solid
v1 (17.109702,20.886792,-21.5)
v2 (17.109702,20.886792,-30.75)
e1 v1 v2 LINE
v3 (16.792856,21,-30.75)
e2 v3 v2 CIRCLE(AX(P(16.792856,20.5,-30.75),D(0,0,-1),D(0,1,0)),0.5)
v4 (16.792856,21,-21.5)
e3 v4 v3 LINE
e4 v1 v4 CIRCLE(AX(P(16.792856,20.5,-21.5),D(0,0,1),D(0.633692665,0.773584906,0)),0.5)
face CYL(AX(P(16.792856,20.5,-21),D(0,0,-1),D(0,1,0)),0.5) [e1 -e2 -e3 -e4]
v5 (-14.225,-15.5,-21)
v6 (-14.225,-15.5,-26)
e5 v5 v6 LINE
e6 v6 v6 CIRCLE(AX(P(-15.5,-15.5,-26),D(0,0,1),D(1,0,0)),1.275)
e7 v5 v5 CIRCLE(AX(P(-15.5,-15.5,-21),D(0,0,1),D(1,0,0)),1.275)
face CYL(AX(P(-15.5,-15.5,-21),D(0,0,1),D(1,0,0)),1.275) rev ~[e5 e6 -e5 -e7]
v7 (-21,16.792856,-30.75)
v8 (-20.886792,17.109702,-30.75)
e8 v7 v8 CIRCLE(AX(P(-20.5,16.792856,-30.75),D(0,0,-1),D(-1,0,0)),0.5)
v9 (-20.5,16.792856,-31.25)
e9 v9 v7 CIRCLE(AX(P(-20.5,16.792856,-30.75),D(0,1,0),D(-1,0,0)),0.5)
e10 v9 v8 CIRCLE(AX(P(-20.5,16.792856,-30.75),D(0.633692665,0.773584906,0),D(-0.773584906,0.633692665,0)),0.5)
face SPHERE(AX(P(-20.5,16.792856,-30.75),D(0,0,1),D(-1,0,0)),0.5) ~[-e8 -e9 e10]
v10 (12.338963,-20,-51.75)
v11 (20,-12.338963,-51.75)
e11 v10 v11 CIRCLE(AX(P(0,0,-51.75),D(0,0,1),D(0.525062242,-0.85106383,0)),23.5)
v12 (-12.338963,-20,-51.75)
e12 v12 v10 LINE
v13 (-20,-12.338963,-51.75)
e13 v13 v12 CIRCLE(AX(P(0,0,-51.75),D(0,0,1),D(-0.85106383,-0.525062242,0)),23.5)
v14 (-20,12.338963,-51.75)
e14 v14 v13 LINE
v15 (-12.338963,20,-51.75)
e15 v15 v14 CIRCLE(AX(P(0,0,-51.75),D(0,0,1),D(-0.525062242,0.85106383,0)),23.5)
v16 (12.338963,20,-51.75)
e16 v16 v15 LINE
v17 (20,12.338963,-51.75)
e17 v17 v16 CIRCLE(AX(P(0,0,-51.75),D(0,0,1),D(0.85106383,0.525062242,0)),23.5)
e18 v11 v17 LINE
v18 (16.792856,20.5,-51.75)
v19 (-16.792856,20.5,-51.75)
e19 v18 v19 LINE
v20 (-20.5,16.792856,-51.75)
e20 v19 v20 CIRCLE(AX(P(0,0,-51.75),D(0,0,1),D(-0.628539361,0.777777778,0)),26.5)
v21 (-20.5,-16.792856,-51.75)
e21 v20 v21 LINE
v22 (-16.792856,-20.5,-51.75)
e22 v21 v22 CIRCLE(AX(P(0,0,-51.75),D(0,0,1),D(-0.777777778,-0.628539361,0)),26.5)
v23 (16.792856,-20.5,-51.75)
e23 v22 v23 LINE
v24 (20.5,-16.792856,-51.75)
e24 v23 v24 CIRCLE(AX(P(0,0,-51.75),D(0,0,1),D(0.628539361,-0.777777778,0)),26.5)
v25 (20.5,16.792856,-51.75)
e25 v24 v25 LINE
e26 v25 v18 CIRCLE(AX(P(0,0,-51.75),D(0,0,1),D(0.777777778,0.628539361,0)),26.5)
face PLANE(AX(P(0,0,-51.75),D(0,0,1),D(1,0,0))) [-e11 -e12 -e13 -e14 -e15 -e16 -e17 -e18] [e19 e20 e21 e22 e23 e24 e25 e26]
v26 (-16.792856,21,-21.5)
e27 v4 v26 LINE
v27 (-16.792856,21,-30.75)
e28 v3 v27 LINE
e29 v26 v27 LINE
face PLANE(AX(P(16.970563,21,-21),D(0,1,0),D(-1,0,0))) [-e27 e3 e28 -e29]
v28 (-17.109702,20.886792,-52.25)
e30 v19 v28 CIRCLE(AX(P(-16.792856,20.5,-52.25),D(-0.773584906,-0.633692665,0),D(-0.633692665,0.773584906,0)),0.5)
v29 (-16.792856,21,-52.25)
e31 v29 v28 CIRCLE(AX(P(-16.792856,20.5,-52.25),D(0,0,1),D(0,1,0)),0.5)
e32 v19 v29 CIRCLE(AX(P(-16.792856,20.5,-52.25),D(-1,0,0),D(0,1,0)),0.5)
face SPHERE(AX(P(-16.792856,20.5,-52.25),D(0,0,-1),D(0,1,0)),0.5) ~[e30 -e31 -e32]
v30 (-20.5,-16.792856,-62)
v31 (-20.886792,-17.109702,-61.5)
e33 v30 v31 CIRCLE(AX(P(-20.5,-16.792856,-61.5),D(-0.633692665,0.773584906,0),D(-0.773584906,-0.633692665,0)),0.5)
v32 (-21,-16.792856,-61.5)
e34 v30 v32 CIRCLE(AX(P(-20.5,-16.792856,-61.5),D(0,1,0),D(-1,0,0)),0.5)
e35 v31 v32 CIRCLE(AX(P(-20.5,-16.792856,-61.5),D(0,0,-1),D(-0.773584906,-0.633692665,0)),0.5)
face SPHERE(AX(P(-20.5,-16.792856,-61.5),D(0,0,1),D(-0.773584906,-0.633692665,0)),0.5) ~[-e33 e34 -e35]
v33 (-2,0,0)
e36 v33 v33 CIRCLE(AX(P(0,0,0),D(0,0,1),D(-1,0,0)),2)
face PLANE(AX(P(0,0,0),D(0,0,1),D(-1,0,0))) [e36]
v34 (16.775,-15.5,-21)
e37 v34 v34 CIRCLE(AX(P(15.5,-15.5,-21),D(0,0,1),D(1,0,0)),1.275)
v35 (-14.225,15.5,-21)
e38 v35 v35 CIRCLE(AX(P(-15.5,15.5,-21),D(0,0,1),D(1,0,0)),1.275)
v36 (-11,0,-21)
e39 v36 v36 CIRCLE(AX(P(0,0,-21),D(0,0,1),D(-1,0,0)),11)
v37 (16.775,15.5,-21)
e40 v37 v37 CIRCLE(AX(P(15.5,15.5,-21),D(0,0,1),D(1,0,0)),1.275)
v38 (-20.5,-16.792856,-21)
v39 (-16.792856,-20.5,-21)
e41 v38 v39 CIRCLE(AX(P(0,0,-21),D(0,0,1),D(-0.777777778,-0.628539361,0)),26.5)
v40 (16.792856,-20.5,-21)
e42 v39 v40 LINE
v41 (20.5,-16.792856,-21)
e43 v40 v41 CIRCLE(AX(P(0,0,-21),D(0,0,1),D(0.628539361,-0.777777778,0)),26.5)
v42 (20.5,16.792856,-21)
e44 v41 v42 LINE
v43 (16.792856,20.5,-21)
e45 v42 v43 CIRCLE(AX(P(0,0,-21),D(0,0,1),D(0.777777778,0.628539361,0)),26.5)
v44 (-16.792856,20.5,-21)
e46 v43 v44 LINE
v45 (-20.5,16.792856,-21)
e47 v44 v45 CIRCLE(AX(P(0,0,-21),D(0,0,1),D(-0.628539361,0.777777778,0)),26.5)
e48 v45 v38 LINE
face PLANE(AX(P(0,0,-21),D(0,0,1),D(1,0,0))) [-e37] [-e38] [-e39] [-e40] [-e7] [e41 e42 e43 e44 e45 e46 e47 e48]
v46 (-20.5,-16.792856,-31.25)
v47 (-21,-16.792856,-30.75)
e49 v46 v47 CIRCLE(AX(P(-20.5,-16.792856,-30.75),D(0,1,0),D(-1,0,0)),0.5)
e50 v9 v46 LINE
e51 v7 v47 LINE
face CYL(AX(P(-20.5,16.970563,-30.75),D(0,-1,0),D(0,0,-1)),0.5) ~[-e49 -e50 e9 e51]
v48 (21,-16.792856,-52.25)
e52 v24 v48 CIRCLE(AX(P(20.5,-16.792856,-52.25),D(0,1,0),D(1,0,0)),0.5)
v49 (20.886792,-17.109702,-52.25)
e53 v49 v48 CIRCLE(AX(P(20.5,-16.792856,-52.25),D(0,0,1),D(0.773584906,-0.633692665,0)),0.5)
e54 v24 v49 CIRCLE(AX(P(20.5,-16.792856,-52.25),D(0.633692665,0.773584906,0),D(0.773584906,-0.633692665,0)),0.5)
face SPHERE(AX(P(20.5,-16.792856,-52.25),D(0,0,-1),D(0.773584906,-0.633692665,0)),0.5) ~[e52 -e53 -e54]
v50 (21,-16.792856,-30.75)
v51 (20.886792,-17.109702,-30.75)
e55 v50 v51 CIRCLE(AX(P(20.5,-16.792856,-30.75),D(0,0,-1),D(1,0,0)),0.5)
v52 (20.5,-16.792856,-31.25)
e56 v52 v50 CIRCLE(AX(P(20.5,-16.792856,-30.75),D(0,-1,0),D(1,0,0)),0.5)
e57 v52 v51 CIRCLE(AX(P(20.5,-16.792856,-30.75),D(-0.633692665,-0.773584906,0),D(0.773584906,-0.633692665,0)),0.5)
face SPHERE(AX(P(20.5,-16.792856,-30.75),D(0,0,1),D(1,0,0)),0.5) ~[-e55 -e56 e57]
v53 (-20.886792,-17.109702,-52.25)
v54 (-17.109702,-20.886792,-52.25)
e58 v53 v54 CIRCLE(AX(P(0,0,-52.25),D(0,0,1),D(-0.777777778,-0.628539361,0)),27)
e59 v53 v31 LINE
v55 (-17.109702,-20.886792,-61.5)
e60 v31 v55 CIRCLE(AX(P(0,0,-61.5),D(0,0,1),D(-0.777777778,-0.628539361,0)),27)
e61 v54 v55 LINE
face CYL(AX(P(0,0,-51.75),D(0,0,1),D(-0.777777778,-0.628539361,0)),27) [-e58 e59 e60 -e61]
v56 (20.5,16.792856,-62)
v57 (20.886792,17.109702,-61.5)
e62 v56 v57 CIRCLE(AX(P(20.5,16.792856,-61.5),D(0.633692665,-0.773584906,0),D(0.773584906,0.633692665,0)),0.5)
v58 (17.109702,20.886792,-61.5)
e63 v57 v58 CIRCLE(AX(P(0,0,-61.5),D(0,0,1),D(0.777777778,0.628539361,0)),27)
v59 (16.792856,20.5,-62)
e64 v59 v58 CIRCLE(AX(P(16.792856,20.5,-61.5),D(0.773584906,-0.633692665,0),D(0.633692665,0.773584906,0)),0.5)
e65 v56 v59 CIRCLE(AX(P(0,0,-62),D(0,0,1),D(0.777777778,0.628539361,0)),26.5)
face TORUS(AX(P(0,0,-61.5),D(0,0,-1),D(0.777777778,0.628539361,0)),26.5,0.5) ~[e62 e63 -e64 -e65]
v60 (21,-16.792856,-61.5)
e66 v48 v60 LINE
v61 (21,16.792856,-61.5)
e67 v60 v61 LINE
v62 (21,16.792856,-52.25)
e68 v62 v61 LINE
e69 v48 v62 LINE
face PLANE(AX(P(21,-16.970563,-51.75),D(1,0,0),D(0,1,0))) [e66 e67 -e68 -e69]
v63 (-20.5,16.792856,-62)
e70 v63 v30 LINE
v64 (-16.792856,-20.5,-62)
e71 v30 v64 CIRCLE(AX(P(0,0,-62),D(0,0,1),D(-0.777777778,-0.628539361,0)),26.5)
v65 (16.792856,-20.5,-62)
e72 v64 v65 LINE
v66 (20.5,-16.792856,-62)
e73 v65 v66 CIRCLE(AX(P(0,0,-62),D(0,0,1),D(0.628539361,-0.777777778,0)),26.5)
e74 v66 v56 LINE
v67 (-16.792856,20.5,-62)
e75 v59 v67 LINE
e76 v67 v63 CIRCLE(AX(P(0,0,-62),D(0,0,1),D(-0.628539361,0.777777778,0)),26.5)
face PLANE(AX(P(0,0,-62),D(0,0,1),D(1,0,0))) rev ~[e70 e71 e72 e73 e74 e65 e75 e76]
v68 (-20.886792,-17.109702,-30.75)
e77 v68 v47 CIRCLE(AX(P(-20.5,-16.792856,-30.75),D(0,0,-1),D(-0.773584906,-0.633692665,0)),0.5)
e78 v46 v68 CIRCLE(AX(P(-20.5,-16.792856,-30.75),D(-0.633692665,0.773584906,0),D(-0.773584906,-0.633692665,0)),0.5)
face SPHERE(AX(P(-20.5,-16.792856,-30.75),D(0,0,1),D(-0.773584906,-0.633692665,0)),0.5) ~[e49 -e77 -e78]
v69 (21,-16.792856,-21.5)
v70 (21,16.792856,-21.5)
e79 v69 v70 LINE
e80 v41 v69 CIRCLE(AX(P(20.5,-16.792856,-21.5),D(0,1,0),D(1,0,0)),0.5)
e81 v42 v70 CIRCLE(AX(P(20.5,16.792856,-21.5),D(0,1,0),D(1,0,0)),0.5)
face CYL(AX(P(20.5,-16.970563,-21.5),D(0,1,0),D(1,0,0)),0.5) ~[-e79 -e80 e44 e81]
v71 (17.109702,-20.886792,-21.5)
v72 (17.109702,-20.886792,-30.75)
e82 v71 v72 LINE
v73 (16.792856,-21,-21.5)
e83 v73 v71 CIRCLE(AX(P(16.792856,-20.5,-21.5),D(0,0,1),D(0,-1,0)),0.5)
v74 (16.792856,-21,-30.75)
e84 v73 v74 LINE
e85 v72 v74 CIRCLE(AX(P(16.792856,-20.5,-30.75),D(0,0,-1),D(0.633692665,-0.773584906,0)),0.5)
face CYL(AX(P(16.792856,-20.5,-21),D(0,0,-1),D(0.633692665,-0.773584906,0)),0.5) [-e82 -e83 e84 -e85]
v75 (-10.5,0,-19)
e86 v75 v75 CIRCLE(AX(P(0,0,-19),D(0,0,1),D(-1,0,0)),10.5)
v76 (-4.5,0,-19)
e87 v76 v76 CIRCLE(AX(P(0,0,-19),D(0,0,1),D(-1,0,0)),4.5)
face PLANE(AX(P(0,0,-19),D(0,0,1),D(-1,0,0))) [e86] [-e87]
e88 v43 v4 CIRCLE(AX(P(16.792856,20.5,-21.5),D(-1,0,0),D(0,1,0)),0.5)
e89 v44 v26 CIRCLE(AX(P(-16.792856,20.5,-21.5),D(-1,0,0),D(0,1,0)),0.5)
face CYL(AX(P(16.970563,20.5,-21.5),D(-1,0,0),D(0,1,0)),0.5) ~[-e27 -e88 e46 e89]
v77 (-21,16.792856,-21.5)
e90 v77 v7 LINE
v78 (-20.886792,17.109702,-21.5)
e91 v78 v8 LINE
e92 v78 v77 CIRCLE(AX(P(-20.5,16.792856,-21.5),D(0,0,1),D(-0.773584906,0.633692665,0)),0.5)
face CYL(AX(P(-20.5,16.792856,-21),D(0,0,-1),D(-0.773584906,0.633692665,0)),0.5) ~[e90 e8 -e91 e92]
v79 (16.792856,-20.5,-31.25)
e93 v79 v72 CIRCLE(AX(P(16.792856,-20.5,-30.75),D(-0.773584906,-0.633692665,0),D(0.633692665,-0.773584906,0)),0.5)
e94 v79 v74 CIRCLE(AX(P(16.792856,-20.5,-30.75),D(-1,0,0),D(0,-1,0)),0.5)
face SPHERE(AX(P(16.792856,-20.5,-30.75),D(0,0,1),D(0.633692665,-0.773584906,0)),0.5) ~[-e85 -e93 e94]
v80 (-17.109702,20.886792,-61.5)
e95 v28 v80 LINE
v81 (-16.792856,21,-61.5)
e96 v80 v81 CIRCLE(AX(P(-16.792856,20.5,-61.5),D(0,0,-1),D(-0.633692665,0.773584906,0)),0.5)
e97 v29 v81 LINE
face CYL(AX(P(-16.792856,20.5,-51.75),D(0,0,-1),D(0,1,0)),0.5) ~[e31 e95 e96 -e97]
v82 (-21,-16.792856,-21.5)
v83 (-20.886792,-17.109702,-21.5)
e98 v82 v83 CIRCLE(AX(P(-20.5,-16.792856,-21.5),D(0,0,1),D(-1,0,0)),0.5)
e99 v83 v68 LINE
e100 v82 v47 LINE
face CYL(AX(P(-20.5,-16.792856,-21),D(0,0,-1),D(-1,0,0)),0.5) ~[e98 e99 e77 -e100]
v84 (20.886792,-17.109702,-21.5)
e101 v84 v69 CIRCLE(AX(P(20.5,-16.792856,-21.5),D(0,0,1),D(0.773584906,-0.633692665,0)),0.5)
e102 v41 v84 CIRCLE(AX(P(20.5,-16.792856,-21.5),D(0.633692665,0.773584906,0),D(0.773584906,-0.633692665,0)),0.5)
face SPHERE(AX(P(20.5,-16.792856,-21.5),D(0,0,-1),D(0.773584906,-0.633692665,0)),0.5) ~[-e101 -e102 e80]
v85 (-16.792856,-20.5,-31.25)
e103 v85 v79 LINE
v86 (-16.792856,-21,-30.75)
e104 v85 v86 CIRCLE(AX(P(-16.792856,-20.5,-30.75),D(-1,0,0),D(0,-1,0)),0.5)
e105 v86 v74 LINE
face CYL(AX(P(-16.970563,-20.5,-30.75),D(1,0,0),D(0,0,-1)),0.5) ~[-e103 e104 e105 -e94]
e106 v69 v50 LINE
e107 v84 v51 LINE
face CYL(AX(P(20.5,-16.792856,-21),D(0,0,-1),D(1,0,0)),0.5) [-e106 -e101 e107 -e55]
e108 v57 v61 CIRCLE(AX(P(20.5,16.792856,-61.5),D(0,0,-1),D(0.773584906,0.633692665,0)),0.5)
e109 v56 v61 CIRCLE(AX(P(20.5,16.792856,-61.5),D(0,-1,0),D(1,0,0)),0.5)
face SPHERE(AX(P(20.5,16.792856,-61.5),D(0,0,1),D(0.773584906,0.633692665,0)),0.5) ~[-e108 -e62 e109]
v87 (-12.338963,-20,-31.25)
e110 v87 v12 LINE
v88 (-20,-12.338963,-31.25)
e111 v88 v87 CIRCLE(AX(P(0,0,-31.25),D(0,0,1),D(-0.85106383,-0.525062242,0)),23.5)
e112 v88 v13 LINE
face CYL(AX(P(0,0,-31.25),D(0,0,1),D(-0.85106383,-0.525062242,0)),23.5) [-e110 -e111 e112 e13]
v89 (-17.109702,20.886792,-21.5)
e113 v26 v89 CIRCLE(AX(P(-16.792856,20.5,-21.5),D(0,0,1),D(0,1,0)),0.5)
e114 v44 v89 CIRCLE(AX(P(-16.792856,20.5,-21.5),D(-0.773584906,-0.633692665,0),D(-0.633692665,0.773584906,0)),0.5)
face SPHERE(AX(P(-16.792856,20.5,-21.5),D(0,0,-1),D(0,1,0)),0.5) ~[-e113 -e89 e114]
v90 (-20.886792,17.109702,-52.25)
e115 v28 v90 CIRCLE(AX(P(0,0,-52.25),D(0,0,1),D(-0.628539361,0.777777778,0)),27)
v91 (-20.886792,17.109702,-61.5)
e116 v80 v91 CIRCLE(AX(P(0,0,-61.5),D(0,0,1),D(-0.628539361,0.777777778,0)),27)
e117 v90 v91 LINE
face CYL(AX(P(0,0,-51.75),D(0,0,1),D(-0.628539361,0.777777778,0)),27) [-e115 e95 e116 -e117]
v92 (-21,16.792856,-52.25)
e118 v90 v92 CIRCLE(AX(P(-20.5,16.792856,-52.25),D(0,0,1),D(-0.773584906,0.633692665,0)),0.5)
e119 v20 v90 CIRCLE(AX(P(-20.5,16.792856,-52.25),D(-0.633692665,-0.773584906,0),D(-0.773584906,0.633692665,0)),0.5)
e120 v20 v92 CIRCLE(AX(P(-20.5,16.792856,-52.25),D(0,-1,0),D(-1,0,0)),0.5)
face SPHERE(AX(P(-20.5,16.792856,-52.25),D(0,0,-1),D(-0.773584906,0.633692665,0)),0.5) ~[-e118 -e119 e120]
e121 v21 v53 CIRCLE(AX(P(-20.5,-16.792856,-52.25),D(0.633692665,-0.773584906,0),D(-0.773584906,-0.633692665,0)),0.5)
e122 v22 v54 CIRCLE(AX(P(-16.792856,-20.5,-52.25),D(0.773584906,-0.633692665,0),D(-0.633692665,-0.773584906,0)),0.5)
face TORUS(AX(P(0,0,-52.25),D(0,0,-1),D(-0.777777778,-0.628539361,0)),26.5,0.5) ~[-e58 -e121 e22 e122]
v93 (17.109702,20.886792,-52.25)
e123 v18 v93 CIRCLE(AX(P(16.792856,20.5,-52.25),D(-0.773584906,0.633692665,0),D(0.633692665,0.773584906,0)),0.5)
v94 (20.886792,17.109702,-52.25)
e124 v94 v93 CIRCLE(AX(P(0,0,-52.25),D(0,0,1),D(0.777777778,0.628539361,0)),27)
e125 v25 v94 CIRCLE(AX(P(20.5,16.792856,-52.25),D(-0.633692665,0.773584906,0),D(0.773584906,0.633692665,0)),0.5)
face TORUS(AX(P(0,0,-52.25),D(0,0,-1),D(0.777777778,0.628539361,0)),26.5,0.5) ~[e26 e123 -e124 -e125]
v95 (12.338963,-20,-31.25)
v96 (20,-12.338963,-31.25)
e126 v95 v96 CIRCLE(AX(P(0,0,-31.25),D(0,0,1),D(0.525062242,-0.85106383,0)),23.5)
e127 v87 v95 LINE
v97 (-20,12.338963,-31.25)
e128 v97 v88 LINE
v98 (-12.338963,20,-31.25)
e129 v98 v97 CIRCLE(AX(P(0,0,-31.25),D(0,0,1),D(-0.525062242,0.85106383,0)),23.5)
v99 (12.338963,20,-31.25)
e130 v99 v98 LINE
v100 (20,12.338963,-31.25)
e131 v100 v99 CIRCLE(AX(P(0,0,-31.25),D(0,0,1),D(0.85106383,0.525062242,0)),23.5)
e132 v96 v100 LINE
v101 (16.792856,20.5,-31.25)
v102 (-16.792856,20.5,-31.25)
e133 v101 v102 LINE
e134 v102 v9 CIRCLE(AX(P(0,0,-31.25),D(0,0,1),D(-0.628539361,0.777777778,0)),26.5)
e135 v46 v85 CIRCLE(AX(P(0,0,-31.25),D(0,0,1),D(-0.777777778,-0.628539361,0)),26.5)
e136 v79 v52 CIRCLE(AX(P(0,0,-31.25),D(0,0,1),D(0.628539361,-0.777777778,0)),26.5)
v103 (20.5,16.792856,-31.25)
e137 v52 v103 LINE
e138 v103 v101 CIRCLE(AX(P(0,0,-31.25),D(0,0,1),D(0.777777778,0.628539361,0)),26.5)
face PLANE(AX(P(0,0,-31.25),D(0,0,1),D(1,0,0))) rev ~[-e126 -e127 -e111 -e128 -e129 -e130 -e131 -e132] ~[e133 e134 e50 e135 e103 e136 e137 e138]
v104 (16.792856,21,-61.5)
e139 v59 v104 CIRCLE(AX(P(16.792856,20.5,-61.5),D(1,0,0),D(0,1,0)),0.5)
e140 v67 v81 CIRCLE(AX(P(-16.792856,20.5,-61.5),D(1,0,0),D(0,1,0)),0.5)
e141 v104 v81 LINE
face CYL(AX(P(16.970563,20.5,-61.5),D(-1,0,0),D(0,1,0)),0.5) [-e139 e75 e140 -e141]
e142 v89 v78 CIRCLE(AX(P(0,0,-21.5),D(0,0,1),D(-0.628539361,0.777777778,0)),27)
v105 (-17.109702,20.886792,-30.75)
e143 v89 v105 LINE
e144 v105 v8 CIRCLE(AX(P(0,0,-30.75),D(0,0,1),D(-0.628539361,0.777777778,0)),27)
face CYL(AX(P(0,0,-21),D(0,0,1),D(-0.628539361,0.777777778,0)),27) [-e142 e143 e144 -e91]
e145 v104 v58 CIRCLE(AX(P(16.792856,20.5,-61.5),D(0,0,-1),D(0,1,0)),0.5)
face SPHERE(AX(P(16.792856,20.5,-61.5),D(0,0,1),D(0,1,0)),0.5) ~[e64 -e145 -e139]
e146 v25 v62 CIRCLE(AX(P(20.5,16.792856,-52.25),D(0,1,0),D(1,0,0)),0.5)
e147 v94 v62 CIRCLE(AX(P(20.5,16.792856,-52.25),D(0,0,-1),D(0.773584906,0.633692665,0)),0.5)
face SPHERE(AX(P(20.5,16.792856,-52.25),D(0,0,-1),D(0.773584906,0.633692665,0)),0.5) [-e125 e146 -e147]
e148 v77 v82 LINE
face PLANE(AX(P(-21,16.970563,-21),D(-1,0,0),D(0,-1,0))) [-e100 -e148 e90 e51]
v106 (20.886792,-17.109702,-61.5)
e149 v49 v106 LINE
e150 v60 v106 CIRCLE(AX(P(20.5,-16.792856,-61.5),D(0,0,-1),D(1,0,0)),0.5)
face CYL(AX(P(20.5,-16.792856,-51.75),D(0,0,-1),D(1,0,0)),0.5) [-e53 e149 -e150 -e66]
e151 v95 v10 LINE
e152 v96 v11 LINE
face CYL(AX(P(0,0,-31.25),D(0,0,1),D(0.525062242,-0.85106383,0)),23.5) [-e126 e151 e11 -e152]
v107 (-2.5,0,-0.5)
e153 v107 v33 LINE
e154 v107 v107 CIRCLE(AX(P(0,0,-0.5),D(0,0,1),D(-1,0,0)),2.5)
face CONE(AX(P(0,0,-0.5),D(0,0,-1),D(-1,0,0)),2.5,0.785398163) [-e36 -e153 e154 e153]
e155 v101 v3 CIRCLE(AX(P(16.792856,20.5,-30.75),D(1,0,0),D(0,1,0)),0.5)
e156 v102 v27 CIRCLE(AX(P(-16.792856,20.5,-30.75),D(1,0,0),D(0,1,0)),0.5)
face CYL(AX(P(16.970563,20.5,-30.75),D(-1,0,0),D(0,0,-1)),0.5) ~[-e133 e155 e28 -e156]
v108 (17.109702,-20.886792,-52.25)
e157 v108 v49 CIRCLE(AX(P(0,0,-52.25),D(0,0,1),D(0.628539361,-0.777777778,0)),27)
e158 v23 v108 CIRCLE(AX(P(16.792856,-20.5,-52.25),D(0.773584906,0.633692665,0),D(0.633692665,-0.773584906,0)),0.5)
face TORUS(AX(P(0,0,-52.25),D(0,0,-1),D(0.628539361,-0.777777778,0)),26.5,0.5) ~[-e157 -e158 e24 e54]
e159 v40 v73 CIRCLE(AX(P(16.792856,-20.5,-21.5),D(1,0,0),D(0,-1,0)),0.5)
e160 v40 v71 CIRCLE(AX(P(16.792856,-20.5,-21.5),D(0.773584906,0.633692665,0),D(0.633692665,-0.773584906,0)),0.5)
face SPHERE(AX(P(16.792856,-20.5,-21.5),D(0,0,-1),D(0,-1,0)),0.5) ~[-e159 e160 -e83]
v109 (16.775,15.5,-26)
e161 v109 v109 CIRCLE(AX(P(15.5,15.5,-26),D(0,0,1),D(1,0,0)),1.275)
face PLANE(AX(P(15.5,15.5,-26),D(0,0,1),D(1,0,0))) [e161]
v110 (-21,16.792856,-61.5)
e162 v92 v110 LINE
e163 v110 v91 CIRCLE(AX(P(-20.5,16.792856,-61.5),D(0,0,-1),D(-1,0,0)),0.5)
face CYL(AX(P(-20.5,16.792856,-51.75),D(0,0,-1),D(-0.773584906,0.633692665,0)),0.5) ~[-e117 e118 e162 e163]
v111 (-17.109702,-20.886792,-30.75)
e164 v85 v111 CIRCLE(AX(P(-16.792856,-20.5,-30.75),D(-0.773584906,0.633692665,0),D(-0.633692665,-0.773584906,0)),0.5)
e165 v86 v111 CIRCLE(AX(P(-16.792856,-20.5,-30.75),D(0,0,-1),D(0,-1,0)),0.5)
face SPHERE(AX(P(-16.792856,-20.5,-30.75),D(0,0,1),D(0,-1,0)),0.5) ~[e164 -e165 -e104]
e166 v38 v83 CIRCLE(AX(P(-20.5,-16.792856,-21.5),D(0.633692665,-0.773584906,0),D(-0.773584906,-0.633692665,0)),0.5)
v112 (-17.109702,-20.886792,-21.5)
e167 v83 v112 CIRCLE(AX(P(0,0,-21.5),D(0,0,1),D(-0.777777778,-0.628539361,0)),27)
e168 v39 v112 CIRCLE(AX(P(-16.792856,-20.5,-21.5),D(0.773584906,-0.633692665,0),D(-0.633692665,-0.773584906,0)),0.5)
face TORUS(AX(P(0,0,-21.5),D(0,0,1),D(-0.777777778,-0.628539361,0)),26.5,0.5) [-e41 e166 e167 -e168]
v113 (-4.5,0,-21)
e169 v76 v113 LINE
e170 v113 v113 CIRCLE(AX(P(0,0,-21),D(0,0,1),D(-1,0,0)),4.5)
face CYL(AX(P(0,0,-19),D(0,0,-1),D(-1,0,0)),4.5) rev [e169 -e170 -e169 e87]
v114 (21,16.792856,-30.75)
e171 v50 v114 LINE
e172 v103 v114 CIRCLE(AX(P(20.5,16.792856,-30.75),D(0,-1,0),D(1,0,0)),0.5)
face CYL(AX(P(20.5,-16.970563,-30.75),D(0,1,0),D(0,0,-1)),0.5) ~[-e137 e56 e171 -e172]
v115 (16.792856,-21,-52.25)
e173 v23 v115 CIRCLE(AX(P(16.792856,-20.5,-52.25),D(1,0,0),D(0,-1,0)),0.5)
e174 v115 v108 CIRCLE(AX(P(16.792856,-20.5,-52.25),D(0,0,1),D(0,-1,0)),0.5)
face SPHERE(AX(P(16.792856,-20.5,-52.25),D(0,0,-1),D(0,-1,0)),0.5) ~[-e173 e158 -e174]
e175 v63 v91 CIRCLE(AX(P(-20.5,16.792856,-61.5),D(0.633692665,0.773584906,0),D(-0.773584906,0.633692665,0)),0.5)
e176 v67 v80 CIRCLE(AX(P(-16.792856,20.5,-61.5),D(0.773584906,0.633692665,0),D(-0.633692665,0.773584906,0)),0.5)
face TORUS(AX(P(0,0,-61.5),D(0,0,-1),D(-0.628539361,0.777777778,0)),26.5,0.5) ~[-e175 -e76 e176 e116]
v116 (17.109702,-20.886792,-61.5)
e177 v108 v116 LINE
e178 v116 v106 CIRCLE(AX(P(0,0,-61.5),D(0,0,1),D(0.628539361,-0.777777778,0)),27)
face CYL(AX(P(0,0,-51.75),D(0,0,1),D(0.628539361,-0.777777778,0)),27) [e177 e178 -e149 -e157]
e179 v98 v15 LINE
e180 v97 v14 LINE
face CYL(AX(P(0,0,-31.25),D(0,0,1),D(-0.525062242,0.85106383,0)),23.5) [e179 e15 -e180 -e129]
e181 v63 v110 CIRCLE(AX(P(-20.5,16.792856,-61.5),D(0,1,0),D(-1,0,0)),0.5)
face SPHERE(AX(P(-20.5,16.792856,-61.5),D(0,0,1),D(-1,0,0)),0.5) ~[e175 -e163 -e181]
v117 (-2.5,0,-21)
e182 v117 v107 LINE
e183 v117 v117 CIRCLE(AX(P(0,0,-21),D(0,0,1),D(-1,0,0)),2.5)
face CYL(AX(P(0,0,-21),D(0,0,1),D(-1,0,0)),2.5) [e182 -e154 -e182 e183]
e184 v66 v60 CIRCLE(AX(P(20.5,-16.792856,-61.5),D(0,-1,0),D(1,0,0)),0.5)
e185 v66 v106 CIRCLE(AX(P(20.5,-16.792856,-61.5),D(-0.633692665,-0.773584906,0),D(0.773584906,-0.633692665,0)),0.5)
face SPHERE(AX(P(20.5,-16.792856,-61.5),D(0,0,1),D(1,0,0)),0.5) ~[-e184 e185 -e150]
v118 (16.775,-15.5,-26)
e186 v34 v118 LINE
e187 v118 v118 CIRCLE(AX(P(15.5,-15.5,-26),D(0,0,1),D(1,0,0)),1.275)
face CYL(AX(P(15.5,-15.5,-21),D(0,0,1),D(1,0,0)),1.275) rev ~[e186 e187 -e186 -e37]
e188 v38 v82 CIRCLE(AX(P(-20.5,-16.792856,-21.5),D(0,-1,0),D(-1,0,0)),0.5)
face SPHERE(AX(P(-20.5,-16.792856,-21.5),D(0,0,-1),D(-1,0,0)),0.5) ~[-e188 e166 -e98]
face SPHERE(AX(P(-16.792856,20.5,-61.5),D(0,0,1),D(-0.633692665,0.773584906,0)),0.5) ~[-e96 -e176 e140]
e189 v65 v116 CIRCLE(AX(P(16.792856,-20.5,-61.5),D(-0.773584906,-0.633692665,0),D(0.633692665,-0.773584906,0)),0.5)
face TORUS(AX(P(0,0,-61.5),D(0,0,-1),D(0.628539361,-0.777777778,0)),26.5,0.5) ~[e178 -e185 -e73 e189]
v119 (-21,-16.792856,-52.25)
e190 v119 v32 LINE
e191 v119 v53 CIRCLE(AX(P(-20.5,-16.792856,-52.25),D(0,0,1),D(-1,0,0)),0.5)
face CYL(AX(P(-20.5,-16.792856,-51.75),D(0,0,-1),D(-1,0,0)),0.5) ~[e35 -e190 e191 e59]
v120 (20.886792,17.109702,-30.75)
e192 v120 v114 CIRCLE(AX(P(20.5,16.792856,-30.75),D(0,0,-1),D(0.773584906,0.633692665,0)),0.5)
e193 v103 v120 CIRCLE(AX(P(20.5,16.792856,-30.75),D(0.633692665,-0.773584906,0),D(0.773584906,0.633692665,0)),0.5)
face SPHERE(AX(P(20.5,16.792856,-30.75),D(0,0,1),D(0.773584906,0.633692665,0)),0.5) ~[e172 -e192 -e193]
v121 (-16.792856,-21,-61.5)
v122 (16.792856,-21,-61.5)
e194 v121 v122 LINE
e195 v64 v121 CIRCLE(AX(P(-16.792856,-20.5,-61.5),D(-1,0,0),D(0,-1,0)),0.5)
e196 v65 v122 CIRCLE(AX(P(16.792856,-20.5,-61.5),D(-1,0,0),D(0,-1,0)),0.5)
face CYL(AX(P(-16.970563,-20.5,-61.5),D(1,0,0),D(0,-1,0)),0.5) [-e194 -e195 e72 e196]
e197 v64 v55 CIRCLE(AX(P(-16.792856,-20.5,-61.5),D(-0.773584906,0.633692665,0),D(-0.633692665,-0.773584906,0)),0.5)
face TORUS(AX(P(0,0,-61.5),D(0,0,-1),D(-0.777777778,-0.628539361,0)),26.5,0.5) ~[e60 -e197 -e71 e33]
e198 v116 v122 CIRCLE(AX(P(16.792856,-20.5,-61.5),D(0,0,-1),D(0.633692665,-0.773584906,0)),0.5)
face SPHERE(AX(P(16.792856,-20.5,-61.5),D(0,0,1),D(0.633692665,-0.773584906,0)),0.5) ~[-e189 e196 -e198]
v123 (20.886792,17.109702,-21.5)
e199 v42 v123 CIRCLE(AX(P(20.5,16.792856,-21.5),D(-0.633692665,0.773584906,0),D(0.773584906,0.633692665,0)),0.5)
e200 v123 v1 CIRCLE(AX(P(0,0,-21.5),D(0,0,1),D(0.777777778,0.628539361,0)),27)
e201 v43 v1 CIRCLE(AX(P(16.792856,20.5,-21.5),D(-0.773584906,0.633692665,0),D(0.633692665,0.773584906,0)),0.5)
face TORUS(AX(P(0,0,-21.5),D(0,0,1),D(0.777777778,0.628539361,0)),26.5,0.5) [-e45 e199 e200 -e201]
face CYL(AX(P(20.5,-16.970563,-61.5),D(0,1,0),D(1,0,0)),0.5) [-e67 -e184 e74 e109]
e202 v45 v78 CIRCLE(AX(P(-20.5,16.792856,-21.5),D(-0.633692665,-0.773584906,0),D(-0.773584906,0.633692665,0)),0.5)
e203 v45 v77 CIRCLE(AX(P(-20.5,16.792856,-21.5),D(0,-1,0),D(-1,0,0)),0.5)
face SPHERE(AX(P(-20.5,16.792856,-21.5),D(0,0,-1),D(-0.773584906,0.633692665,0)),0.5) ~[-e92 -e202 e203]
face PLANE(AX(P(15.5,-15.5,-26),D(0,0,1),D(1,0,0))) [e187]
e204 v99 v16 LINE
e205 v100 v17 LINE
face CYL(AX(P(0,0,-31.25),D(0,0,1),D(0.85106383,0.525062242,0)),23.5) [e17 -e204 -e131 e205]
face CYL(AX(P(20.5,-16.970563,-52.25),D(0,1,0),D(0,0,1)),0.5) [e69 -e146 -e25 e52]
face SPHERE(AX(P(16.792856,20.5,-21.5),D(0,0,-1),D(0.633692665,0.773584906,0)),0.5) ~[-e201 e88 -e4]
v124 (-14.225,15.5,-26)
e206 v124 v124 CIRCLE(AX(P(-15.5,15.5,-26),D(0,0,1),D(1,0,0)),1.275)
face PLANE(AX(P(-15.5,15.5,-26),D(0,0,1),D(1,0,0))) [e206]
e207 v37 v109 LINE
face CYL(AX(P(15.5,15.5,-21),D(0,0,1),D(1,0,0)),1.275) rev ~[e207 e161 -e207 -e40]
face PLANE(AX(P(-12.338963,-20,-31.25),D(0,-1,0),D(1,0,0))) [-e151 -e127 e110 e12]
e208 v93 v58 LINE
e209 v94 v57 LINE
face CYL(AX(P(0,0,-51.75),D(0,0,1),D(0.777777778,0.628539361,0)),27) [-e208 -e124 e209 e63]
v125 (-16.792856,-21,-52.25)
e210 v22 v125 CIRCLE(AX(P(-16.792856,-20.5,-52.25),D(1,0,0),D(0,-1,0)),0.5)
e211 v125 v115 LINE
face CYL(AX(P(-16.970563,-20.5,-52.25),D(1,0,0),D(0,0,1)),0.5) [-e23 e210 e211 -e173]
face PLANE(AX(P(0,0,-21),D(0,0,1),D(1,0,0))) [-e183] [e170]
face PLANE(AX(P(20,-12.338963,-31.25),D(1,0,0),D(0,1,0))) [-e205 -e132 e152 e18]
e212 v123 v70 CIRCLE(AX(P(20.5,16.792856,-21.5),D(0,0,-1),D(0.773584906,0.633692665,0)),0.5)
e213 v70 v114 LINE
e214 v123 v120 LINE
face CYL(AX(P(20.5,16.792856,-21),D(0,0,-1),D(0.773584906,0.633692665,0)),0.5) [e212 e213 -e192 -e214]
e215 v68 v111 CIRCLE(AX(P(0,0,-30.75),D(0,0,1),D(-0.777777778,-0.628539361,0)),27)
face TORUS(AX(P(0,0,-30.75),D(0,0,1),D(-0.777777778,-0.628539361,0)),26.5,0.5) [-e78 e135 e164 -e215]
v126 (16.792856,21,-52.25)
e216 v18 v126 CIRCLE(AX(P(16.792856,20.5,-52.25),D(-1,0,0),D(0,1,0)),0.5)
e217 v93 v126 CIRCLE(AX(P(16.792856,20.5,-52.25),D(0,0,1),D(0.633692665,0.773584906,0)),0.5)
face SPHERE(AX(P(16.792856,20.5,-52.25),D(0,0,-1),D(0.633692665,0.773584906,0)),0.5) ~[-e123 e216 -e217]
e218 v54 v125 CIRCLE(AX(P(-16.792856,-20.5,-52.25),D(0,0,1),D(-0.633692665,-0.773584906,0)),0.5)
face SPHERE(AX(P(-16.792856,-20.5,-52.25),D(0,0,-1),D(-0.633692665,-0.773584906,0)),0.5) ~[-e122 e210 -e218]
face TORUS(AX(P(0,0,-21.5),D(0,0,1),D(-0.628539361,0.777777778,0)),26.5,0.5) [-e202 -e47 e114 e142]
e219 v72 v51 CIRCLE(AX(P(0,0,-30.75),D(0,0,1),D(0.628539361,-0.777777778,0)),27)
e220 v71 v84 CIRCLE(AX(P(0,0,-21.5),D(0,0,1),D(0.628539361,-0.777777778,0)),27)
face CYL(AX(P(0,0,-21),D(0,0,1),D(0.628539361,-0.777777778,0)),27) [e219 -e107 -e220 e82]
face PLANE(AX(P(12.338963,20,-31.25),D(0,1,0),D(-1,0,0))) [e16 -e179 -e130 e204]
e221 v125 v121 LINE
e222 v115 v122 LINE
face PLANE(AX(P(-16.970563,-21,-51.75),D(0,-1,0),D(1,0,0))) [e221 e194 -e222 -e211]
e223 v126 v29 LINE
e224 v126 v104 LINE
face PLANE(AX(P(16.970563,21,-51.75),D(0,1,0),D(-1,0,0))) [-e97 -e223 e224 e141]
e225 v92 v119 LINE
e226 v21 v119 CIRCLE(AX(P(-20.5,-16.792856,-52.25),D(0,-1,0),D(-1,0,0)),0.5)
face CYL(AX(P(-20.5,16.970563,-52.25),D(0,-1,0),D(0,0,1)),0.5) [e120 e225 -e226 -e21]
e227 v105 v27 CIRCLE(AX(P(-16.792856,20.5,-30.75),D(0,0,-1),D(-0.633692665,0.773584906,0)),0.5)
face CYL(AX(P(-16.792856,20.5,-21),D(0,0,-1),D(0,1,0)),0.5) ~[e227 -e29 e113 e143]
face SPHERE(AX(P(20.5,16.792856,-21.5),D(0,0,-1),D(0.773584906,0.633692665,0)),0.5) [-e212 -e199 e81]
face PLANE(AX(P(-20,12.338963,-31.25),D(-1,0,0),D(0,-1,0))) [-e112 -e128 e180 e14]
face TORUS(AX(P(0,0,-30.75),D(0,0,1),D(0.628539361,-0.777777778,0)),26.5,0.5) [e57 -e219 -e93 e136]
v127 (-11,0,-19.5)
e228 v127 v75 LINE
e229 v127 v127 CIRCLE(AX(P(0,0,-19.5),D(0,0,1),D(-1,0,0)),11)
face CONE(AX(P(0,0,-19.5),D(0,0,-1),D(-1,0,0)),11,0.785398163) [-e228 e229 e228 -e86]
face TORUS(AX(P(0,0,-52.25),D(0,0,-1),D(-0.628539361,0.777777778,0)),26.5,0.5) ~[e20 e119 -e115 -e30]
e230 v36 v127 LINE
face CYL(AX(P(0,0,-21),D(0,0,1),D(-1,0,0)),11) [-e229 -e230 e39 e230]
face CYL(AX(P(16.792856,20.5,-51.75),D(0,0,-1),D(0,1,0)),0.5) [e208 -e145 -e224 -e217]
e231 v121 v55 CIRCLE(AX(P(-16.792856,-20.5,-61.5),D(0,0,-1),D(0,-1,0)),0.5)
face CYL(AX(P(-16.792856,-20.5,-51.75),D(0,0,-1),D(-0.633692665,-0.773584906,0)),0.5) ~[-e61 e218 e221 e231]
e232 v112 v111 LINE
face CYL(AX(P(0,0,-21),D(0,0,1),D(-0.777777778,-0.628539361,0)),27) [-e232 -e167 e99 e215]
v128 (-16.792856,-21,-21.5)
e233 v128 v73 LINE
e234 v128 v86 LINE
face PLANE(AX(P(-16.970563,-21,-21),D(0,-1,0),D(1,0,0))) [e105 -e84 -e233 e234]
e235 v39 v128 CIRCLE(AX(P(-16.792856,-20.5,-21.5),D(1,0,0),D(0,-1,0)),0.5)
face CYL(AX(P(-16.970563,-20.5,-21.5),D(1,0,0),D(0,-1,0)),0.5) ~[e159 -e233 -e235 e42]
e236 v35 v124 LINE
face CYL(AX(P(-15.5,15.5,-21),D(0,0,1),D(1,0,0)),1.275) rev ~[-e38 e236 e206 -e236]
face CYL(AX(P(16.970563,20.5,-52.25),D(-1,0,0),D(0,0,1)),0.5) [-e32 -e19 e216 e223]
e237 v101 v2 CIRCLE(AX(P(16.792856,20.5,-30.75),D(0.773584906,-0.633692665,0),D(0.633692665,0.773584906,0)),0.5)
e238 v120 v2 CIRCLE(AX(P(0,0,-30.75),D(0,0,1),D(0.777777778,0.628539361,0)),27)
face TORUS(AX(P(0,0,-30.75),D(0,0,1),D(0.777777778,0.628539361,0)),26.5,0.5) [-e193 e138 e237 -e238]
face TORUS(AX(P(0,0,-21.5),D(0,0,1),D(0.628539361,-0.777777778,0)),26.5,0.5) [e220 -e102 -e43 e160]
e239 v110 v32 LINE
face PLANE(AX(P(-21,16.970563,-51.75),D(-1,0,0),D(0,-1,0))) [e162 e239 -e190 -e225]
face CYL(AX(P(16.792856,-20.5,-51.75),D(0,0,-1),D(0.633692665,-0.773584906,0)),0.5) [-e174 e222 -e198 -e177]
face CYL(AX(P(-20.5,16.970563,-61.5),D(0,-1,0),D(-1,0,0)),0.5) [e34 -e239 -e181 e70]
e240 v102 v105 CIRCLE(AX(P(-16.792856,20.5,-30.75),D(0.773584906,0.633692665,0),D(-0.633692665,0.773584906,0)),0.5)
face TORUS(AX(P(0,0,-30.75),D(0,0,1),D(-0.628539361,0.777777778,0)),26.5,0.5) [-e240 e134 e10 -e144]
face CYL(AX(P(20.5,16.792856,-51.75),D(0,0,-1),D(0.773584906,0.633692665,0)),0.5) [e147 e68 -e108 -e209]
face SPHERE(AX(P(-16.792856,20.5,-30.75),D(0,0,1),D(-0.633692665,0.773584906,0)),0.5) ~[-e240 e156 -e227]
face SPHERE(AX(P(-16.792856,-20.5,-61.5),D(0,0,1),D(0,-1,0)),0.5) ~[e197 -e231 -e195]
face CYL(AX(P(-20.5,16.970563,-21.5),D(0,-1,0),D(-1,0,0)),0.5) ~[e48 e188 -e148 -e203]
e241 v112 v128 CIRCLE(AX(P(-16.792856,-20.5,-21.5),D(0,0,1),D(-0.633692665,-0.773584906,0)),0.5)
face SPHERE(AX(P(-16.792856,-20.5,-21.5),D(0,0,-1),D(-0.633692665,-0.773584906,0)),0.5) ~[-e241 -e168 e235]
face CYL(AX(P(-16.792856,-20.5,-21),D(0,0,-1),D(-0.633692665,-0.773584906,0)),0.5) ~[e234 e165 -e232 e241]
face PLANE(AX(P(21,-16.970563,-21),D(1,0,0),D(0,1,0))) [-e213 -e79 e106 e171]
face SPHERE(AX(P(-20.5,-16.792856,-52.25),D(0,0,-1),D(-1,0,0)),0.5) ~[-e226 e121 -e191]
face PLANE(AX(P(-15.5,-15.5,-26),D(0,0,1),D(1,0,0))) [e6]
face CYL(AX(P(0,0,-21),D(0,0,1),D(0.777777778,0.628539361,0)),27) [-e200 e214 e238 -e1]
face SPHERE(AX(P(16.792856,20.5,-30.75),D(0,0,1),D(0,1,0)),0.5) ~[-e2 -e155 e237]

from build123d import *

# Parameters (mm, degrees)
EXTRUDE_START       = -21
EXTRUDE_1_DEPTH     = 10.25
EXTRUDE_START_2     = -51.75
EXTRUDE_2_DEPTH     = 10.25
EXTRUDE_START_3     = -31.25
EXTRUDE_3_DEPTH     = 20.5
CUT_EXTRUDE_START   = -21
SKETCH_7_R          = 1.275
CUT_EXTRUDE_4_DEPTH = 5
FILLET_1_R          = 0.5
FILLET_2_R          = 0.5


with BuildPart() as part:
    # 草图3 → 旋转1 (revolve)
    with BuildSketch(Plane(origin=(0, 0, 0), x_dir=(0, 0, -1), z_dir=(1, 0, 0)), mode=Mode.PRIVATE) as revolve_1_sk:
        Polygon((0, 2), (0, 0), (21, 0), (21, 2.5), (0.5, 2.5), align=None)
        Polygon((19, 4.5), (21, 4.5), (21, 11), (19.5, 11), (19, 10.5), align=None)
    revolve(revolve_1_sk.sketch.rotate(Axis((0, 0, -21), (0, 0, 1)), 90), axis=Axis((0, 0, -21), (0, 0, 1)))

    # 草图4 → 凸台-拉伸1 (add)
    with BuildSketch(Plane.XY.offset(EXTRUDE_START)):
        with BuildLine():
            Line((16.970562748, 21), (-16.970562748, 21))
            ThreePointArc((-16.970562748, 21), (-19.091883092, 19.091883092), (-21, 16.970562748))
            Line((-21, 16.970562748), (-21, -16.970562748))
            ThreePointArc((-21, -16.970562748), (-19.091883092, -19.091883092), (-16.970562748, -21))
            Line((-16.970562748, -21), (16.970562748, -21))
            ThreePointArc((16.970562748, -21), (19.091883092, -19.091883092), (21, -16.970562748))
            Line((21, -16.970562748), (21, 16.970562748))
            ThreePointArc((21, 16.970562748), (19.091883092, 19.091883092), (16.970562748, 21))
        make_face()
    extrude(amount=-EXTRUDE_1_DEPTH)



with BuildPart() as body_2:
    # 草图4<2> → 凸台-拉伸2 (new body)
    with BuildSketch(Plane.XY.offset(EXTRUDE_START_2)):
        with BuildLine():
            Line((16.970562748, 21), (-16.970562748, 21))
            ThreePointArc((-16.970562748, 21), (-19.091883092, 19.091883092), (-21, 16.970562748))
            Line((-21, 16.970562748), (-21, -16.970562748))
            ThreePointArc((-21, -16.970562748), (-19.091883092, -19.091883092), (-16.970562748, -21))
            Line((-16.970562748, -21), (16.970562748, -21))
            ThreePointArc((16.970562748, -21), (19.091883092, -19.091883092), (21, -16.970562748))
            Line((21, -16.970562748), (21, 16.970562748))
            ThreePointArc((21, 16.970562748), (19.091883092, 19.091883092), (16.970562748, 21))
        make_face()
    extrude(amount=-EXTRUDE_2_DEPTH)


with BuildPart() as part_1:
    add(part.part)

    add(body_2.part)  # 凸台-拉伸3 merges body 2
    # 草图5 → 凸台-拉伸3 (add)
    with BuildSketch(Plane.XY.offset(EXTRUDE_START_3)):
        with BuildLine():
            Line((20, -12.338962679), (20, 12.338962679))
            ThreePointArc((20, 12.338962679), (16.617009358, 16.617009358), (12.338962679, 20))
            Line((12.338962679, 20), (-12.338962679, 20))
            ThreePointArc((-12.338962679, 20), (-16.617009358, 16.617009358), (-20, 12.338962679))
            Line((-20, 12.338962679), (-20, -12.338962679))
            ThreePointArc((-20, -12.338962679), (-16.617009358, -16.617009358), (-12.338962679, -20))
            Line((-12.338962679, -20), (12.338962679, -20))
            ThreePointArc((12.338962679, -20), (16.617009358, -16.617009358), (20, -12.338962679))
        make_face()
    extrude(amount=-EXTRUDE_3_DEPTH)

    # 草图7 → 切除-拉伸4 (cut)
    with BuildSketch(Plane.XY.offset(CUT_EXTRUDE_START)):
        with Locations((-15.5, 15.5)):
            Circle(SKETCH_7_R)
        with Locations((15.5, 15.5)):
            Circle(SKETCH_7_R)
        with Locations((15.5, -15.5)):
            Circle(SKETCH_7_R)
        with Locations((-15.5, -15.5)):
            Circle(SKETCH_7_R)
    extrude(amount=-CUT_EXTRUDE_4_DEPTH, mode=Mode.SUBTRACT)

    # 圆角1
    fillet_1_edges = [part_1.edges().sort_by_distance(p)[0] for p in [
        (19.091883092, 19.091883092, -21),
        (0, 21, -21),
        (-19.091883092, 19.091883092, -21),
        (-21, 0, -21),
        (-19.091883092, -19.091883092, -21),
        (0, -21, -21),
        (19.091883092, -19.091883092, -21),
        (21, 0, -21),
        (19.091883092, 19.091883092, -31.25),
        (16.970562748, 21, -26.125),
        (21, 0, -31.25),
        (21, 16.970562748, -26.125),
        (19.091883092, -19.091883092, -31.25),
        (21, -16.970562748, -26.125),
        (0, -21, -31.25),
        (16.970562748, -21, -26.125),
        (-19.091883092, -19.091883092, -31.25),
        (-16.970562748, -21, -26.125),
        (-21, 0, -31.25),
        (-21, -16.970562748, -26.125),
        (-19.091883092, 19.091883092, -31.25),
        (-21, 16.970562748, -26.125),
        (0, 21, -31.25),
        (-16.970562748, 21, -26.125),
    ]]
    fillet(fillet_1_edges, radius=FILLET_1_R)

    # 圆角2
    fillet_2_edges = [part_1.edges().sort_by_distance(p)[0] for p in [
        (19.091883092, 19.091883092, -62),
        (16.970562748, 21, -56.875),
        (21, 0, -62),
        (21, 16.970562748, -56.875),
        (19.091883092, -19.091883092, -62),
        (21, -16.970562748, -56.875),
        (0, -21, -62),
        (16.970562748, -21, -56.875),
        (-19.091883092, -19.091883092, -62),
        (-16.970562748, -21, -56.875),
        (-21, 0, -62),
        (-21, -16.970562748, -56.875),
        (-19.091883092, 19.091883092, -62),
        (-21, 16.970562748, -56.875),
        (0, 21, -62),
        (-16.970562748, 21, -56.875),
        (19.091883092, 19.091883092, -51.75),
        (0, 21, -51.75),
        (-19.091883092, 19.091883092, -51.75),
        (-21, 0, -51.75),
        (-19.091883092, -19.091883092, -51.75),
        (0, -21, -51.75),
        (19.091883092, -19.091883092, -51.75),
        (21, 0, -51.75),
    ]]
    fillet(fillet_2_edges, radius=FILLET_2_R)


solid = part_1.part
